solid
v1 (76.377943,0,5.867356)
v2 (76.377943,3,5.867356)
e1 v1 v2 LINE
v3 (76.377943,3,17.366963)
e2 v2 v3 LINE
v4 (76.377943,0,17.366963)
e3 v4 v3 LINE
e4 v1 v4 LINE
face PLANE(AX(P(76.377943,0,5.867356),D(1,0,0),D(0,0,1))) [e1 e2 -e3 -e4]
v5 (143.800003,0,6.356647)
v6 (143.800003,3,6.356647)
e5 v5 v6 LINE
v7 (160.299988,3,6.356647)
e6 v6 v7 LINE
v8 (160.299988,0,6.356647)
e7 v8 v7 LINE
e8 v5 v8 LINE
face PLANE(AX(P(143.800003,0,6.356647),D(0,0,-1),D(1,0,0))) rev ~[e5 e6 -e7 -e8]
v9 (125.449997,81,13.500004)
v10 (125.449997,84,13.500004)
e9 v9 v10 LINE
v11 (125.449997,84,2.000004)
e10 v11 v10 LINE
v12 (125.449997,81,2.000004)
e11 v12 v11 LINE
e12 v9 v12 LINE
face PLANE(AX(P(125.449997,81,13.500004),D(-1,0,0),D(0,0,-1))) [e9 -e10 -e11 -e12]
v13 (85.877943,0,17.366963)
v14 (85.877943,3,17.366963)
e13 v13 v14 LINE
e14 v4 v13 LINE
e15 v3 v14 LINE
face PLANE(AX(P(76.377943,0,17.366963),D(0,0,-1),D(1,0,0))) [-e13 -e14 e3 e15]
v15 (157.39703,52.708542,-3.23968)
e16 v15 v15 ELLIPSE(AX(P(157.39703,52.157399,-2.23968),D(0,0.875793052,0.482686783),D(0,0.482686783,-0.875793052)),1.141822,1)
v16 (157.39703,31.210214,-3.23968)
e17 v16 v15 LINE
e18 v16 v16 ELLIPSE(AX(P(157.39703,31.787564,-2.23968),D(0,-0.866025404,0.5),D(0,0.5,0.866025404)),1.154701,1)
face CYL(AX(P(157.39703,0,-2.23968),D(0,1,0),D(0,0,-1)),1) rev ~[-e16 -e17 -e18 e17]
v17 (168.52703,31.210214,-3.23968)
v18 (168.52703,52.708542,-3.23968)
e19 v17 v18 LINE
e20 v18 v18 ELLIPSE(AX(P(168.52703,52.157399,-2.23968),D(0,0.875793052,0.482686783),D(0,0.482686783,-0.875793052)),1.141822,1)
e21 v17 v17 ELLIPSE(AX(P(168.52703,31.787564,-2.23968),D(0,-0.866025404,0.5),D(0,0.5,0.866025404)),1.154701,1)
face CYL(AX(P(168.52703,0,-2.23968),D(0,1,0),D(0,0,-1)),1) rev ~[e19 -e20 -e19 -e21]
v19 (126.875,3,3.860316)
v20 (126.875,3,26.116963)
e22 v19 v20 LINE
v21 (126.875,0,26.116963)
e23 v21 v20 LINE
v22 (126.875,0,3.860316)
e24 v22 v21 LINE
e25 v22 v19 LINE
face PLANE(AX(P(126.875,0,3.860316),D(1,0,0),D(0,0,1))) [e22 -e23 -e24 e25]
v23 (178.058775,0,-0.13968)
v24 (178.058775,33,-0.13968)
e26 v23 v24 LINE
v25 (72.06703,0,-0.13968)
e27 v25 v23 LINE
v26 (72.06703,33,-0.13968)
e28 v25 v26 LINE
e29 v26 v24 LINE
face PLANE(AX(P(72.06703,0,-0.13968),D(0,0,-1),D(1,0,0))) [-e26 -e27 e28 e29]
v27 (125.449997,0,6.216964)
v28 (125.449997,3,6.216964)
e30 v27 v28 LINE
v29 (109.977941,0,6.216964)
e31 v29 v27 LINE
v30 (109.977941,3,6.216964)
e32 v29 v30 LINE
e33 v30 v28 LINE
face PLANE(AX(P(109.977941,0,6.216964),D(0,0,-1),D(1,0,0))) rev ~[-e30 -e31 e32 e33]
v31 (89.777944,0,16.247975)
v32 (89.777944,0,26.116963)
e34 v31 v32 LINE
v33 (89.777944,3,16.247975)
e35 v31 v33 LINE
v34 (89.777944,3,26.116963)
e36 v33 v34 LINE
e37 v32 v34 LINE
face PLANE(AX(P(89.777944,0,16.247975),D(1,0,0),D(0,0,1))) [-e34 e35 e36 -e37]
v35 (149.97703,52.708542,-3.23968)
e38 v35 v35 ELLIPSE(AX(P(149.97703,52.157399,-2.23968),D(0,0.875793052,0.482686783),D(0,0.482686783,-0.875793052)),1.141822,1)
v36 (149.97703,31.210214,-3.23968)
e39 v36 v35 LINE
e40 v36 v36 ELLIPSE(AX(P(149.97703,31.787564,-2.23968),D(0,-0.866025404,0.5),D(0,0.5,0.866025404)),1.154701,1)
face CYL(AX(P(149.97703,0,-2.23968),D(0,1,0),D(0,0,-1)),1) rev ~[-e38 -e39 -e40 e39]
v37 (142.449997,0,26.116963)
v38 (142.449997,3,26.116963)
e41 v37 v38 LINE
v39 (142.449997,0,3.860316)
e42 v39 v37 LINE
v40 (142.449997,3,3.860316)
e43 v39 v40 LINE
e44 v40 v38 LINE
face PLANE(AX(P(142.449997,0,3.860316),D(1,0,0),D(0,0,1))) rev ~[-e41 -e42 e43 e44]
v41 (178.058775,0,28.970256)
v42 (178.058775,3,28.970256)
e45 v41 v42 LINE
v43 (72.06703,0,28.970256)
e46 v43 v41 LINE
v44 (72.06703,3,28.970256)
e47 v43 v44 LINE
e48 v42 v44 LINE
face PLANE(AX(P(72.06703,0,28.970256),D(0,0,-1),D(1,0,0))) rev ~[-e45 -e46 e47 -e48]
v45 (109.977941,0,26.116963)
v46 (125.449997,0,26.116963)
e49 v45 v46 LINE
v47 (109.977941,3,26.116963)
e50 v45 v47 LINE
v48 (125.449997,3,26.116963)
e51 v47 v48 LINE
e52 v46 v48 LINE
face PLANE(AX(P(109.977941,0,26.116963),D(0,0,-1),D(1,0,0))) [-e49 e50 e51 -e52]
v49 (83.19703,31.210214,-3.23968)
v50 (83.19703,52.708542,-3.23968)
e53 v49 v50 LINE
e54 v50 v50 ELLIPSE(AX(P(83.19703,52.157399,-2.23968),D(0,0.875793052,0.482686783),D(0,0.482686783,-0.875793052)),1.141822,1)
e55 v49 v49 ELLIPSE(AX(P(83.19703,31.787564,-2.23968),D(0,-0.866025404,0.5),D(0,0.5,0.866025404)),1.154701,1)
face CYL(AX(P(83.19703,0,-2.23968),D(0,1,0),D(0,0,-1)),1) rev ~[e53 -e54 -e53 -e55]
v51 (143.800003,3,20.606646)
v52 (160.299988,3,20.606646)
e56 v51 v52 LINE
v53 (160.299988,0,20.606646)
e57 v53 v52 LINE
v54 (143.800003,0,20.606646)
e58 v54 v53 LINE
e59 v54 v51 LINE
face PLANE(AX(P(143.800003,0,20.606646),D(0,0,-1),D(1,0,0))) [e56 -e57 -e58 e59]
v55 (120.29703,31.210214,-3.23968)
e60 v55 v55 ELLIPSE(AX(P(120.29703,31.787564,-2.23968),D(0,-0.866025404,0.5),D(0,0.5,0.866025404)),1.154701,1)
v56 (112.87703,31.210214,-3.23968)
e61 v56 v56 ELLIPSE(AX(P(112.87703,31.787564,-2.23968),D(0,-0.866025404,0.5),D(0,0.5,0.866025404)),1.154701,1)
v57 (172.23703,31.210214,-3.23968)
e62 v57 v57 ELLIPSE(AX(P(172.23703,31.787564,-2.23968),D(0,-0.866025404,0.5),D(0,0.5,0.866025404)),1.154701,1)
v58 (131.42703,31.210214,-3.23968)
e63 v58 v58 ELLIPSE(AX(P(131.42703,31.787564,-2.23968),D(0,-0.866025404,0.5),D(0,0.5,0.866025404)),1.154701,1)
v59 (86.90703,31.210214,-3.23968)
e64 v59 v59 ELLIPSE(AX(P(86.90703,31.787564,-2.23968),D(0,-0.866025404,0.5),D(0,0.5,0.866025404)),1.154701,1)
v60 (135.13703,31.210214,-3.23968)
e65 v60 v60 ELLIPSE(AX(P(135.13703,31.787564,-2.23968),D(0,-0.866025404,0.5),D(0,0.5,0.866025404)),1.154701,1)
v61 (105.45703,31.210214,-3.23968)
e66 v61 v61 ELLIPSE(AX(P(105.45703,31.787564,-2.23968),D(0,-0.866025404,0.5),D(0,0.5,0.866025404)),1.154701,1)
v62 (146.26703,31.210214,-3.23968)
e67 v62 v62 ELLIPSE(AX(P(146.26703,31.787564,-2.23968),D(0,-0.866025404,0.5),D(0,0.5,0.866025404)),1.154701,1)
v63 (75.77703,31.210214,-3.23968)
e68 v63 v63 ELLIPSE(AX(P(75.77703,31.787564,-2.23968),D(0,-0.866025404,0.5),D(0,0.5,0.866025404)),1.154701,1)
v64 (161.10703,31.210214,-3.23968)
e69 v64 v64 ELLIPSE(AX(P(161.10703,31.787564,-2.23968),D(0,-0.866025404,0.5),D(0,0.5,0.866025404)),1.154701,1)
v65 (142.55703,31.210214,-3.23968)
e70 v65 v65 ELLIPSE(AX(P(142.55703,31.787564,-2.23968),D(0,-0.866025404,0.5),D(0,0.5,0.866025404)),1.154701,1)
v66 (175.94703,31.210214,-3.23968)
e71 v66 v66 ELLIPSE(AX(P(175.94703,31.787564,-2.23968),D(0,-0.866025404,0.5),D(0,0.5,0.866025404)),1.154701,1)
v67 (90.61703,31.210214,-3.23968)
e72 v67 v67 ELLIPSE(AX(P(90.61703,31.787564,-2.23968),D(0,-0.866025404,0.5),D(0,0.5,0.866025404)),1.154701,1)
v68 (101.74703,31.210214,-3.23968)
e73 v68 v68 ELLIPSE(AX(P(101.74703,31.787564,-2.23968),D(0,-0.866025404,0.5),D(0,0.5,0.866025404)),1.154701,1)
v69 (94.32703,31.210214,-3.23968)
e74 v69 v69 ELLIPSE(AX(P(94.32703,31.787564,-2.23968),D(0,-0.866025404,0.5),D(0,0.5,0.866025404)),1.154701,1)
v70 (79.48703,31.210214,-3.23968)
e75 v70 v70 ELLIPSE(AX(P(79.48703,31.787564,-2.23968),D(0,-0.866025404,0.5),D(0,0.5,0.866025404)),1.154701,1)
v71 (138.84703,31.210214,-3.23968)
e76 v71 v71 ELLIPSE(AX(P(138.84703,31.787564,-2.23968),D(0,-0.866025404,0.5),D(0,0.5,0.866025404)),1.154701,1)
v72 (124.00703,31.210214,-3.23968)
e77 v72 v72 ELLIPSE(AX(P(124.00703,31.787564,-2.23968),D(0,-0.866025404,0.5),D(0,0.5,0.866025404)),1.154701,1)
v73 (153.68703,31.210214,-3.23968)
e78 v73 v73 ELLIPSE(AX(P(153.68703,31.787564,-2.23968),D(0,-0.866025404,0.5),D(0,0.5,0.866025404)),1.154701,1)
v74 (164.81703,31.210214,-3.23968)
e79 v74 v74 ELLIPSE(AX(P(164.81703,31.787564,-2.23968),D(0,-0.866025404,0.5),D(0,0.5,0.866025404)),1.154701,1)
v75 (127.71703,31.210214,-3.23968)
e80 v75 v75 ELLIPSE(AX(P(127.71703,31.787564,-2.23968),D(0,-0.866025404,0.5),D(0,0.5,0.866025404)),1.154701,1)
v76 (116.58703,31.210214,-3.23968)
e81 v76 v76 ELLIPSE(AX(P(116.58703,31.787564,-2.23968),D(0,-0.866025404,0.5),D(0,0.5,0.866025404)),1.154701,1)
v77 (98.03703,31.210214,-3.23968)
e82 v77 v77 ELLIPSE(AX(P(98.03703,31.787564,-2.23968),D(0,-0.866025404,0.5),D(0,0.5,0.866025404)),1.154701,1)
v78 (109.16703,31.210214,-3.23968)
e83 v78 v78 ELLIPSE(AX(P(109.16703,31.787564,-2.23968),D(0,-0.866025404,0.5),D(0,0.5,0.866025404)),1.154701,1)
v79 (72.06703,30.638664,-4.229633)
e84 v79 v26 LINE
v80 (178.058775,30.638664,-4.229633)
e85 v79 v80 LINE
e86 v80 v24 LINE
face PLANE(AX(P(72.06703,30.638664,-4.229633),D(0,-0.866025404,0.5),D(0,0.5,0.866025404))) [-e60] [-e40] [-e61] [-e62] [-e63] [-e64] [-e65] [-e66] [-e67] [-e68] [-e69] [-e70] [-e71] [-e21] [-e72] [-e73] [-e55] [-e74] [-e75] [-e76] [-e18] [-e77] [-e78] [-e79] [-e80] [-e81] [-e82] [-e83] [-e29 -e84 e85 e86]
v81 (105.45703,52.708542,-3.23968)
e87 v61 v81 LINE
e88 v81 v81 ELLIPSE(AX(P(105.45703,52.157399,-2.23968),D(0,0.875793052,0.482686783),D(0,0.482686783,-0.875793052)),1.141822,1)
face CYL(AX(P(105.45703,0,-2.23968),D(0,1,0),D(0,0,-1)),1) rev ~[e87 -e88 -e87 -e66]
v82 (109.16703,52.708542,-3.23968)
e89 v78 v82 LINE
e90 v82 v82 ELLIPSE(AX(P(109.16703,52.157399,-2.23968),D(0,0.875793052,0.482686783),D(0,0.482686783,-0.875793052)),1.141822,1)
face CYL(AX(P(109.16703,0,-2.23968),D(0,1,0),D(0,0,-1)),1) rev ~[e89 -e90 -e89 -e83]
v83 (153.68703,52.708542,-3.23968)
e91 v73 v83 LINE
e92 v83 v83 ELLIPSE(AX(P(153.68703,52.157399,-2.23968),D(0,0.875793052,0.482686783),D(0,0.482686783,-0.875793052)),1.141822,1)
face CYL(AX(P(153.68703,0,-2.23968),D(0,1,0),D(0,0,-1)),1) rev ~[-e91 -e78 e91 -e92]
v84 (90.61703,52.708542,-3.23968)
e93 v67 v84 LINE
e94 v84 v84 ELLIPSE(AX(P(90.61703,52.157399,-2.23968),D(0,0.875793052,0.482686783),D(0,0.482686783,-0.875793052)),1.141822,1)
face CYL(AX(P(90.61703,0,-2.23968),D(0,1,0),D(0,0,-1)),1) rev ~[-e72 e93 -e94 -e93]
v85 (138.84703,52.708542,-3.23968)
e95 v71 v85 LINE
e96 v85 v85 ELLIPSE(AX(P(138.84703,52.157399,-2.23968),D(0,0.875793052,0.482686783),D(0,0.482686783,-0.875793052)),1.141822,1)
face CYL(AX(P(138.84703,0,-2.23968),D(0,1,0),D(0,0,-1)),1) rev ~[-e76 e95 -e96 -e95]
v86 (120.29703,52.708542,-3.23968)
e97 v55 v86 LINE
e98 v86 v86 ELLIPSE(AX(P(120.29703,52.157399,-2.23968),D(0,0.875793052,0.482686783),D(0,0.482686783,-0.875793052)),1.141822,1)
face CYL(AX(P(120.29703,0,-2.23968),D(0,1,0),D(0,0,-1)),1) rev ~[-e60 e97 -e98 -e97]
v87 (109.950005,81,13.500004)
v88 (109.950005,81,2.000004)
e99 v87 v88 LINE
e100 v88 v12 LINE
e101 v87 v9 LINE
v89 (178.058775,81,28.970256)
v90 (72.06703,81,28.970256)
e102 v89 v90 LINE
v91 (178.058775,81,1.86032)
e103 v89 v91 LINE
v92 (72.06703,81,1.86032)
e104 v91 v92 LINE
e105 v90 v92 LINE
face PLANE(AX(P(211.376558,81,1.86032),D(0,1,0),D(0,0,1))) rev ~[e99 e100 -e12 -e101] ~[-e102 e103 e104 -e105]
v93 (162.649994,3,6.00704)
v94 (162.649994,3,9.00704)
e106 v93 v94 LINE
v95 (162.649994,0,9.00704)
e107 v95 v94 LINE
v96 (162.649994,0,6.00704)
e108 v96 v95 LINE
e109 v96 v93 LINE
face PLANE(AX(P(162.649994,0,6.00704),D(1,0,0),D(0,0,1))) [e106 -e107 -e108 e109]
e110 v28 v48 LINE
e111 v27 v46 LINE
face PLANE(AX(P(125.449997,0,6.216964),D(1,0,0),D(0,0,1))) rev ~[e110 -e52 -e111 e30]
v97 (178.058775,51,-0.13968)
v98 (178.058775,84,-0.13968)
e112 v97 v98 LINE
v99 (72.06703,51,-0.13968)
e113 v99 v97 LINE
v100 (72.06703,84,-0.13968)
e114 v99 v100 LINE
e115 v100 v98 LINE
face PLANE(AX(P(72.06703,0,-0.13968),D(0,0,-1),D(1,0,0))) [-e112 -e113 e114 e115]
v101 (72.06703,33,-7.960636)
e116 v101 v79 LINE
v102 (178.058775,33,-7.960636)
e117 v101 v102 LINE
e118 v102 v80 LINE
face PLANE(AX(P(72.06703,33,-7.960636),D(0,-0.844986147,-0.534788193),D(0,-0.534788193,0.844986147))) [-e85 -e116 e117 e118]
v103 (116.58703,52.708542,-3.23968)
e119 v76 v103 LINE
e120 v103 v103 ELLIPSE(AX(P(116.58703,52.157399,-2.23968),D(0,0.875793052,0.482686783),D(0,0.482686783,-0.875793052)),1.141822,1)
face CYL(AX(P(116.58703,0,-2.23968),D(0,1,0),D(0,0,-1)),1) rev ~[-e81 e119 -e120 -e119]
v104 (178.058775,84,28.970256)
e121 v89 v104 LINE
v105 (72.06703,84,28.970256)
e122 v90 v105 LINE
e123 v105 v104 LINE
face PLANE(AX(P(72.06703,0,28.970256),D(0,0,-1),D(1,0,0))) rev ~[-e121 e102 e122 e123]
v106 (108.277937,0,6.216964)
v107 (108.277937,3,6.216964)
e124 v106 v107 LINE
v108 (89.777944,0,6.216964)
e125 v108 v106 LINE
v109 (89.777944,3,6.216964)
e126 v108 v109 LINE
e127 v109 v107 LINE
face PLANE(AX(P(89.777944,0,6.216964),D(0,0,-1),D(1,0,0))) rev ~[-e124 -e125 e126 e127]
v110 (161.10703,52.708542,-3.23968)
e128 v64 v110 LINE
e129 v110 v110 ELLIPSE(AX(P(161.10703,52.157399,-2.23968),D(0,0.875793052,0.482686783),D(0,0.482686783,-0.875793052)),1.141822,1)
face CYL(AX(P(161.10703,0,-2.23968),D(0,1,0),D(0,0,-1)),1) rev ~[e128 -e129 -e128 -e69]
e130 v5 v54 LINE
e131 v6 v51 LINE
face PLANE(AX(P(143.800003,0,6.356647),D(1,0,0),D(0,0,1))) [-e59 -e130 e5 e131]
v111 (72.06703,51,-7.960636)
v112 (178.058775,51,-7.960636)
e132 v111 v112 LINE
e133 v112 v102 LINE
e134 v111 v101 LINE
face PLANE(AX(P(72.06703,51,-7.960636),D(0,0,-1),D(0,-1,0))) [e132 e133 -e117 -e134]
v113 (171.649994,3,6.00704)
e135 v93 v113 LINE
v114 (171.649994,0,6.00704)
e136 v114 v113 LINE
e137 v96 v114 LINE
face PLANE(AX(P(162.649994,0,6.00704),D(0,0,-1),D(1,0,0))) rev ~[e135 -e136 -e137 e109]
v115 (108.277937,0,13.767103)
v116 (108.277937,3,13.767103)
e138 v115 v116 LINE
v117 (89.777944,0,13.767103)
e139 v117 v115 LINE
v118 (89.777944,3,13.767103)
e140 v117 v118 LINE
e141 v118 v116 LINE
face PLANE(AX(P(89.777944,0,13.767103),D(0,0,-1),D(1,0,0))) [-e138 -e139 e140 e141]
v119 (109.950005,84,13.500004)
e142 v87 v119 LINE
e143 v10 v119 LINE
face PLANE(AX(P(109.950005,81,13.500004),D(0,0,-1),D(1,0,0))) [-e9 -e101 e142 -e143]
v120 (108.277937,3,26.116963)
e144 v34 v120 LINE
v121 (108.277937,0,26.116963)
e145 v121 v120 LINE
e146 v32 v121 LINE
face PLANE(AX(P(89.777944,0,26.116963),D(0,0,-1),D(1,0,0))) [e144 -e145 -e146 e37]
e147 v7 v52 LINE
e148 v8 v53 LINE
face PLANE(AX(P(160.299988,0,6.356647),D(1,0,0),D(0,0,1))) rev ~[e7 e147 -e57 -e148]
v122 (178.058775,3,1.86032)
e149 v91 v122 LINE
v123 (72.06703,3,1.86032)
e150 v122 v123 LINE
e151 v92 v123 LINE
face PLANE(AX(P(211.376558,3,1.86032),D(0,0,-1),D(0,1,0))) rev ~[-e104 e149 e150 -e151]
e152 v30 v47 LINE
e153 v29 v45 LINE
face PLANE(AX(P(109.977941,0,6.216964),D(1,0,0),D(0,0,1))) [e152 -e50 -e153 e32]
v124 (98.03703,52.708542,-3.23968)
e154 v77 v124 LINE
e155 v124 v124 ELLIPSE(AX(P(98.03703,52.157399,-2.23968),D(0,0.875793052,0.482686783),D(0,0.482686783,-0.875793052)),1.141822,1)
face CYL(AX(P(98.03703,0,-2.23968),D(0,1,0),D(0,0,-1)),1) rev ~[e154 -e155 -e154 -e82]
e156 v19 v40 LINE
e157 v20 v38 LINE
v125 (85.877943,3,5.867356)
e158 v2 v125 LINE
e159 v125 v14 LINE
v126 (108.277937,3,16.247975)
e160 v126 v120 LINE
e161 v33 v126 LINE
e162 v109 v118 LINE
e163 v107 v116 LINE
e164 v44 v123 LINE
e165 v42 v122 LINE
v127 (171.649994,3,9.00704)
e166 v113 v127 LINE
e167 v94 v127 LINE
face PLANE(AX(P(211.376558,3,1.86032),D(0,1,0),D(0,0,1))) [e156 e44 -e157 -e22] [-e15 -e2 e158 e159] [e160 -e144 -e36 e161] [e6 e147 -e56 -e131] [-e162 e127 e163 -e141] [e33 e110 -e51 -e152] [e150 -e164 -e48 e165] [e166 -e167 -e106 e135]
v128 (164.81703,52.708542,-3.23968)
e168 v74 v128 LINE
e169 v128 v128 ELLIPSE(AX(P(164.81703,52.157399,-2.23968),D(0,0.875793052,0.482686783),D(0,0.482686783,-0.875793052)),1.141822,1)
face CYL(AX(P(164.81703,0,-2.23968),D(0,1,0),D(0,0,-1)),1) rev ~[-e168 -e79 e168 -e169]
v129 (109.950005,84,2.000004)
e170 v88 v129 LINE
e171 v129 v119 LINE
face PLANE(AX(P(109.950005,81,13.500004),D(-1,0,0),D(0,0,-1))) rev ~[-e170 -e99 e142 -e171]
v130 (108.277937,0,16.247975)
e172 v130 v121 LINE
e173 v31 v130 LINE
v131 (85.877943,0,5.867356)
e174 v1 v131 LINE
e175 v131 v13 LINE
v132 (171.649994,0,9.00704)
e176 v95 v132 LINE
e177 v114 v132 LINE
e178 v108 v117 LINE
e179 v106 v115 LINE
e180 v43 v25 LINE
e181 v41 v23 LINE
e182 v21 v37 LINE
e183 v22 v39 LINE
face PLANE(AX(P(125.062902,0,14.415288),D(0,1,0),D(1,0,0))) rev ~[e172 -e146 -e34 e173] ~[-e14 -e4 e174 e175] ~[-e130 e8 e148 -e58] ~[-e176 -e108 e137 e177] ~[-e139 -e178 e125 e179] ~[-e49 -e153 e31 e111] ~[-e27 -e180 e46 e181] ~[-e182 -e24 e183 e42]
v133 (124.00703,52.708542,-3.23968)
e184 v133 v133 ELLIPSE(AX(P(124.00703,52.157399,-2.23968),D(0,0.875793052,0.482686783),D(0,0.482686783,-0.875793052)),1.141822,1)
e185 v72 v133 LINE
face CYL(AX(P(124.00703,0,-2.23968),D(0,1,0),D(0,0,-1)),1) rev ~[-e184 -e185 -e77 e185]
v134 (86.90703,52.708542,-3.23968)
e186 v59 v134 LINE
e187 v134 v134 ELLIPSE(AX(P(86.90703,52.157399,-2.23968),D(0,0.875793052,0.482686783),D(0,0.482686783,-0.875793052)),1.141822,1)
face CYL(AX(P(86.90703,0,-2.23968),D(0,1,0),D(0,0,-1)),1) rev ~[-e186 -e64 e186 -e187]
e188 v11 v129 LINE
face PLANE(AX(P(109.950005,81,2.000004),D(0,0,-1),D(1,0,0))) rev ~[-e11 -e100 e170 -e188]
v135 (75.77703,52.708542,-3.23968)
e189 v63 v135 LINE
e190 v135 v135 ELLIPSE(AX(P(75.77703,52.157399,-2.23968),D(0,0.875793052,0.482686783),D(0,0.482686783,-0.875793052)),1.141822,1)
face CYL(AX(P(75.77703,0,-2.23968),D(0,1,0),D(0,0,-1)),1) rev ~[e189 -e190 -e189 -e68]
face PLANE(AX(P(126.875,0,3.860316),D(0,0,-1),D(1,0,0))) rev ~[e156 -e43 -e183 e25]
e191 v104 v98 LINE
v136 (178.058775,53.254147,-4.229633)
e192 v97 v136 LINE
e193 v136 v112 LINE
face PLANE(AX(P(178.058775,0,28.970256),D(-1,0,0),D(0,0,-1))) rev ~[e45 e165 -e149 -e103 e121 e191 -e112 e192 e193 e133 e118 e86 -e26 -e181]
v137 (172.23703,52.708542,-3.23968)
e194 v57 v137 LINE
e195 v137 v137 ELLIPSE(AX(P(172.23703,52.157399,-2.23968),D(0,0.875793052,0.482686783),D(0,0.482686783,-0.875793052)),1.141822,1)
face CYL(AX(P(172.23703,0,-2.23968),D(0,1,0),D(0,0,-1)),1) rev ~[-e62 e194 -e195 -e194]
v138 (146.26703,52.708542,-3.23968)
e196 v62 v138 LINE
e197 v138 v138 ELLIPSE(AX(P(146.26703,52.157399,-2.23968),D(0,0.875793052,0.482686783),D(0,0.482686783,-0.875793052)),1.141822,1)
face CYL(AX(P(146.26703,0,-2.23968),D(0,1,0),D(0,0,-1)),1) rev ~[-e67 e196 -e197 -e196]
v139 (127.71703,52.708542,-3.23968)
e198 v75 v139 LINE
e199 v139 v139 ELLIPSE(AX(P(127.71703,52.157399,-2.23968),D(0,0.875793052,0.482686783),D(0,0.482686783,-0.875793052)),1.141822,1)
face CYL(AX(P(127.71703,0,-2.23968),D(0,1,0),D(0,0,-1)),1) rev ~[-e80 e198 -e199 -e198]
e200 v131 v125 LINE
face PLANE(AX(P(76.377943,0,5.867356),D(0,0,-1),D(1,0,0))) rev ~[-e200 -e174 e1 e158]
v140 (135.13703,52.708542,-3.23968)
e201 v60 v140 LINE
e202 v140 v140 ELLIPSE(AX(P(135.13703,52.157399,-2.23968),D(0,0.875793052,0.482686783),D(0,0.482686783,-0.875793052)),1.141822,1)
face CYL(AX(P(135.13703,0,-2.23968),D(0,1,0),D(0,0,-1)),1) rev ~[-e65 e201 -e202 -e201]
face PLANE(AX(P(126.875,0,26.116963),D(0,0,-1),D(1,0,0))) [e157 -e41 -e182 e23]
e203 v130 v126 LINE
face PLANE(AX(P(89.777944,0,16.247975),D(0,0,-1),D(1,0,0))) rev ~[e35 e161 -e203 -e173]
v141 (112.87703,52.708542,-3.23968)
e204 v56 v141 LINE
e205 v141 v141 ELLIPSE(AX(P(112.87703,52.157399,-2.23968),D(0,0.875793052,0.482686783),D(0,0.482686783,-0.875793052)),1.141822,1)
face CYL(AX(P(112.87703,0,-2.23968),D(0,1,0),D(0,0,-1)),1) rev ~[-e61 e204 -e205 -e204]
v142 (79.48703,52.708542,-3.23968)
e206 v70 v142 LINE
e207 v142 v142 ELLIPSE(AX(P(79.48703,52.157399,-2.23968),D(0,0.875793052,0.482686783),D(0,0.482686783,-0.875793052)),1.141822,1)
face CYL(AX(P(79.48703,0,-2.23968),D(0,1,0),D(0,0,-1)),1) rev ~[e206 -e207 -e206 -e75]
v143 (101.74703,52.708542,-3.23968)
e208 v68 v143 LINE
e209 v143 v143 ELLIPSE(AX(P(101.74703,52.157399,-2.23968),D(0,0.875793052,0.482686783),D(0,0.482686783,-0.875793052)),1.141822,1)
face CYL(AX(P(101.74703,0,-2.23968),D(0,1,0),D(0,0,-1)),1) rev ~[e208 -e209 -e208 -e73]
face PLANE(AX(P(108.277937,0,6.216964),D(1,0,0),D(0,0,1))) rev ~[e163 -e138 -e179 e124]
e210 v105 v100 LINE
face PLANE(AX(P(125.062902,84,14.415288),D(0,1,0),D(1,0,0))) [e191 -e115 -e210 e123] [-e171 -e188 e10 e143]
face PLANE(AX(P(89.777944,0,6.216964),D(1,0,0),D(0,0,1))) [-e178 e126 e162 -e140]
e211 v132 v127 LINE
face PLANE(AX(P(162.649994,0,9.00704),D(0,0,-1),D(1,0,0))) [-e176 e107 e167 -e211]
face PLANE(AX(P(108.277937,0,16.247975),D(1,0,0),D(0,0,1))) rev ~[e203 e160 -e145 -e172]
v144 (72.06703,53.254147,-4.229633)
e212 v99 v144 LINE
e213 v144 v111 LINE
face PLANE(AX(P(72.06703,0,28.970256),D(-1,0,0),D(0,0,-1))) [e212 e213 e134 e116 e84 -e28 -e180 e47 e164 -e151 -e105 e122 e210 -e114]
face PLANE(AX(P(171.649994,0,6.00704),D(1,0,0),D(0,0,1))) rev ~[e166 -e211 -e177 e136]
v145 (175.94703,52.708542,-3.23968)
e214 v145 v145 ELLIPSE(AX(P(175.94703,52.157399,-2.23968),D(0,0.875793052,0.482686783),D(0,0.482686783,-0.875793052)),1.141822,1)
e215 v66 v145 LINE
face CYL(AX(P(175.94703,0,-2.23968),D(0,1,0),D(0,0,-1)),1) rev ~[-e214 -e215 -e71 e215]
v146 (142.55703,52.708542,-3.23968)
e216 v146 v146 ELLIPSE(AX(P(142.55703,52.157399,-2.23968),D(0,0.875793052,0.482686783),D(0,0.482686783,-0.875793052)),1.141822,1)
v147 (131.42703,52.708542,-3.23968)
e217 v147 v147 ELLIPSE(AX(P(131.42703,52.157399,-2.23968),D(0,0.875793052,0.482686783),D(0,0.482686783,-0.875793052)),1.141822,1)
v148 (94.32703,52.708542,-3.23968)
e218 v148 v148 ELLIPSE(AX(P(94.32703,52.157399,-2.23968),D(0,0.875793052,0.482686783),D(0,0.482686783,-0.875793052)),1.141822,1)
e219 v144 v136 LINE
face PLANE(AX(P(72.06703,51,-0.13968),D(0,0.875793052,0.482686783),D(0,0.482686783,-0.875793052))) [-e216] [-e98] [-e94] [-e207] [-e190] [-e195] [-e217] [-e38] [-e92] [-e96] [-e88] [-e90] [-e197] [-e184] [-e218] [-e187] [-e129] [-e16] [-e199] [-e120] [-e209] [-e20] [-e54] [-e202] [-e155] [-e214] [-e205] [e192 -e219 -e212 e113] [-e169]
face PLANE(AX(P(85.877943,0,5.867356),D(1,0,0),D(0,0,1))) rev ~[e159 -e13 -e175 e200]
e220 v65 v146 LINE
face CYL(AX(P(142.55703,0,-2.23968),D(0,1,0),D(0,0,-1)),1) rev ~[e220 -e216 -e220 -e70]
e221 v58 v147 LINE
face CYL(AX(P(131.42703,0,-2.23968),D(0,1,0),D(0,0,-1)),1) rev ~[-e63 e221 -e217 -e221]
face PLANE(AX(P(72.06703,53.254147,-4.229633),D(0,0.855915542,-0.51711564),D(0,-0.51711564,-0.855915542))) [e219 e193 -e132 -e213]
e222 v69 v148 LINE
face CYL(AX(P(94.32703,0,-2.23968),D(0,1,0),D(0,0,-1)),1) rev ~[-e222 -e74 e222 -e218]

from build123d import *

# Parameters (mm, degrees)
SKETCH1_W               = 105.991744741
SKETCH1_H               = 29.109935465
BOSS_EXTRUDE1_DEPTH     = 84
CUT_EXTRUDE1_DEPTH      = 199.997997189
CUT_EXTRUDE1_DEPTH_BACK = 3
SKETCH3_W               = 15.49999237
SKETCH3_H               = 11.5
CUT_EXTRUDE2_DEPTH      = 139.309528443
CUT_EXTRUDE2_DEPTH_BACK = 139.309528443
SKETCH4_W               = 27.109935465
SKETCH4_H               = 78
SKETCH5_W               = 9.5
SKETCH5_H               = 11.499607086
SKETCH5_W_2             = 18.49999237
SKETCH5_H_2             = 9.868988037
SKETCH5_H_3             = 7.550139481
SKETCH5_W_3             = 15.472055618
SKETCH5_H_4             = 19.899999618
SKETCH5_W_4             = 15.574996948
SKETCH5_H_5             = 22.25664711
SKETCH5_W_5             = 16.499984741
SKETCH5_H_6             = 14.249998093
SKETCH5_W_6             = 9
SKETCH5_H_7             = 3
CUT_EXTRUDE3_DEPTH      = 3
BOSS_EXTRUDE2_DEPTH     = 105.991744742
SKETCH7_R               = 1
CUT_EXTRUDE4_DEPTH      = 199.99799719
LPATTERN1_COUNT         = 28
LPATTERN1_PITCH         = 3.71


with BuildPart() as part:
    # Sketch1 → Boss-Extrude1 (new body)
    with BuildSketch(Plane(origin=(0, 0, 0), x_dir=(1, 0, 0), z_dir=(0, 1, 0))):
        with Locations((125.062902141, -14.415287787)):
            Rectangle(SKETCH1_W, SKETCH1_H)
    extrude(amount=BOSS_EXTRUDE1_DEPTH)

    # Sketch3 → Cut-Extrude1 (cut, two sides: drawn at the far end of the back side and taken through both)
    with BuildSketch(Plane(origin=(0, 84, 0), x_dir=(1, 0, 0), z_dir=(0, 1, 0)).offset(-CUT_EXTRUDE1_DEPTH_BACK)):
        with Locations((117.700000763, -7.750003815)):
            Rectangle(SKETCH3_W, SKETCH3_H)
    extrude(amount=CUT_EXTRUDE1_DEPTH + CUT_EXTRUDE1_DEPTH_BACK, mode=Mode.SUBTRACT)

    # Sketch4 → Cut-Extrude2 (cut, two sides: drawn at the far end of the back side and taken through both)
    with BuildSketch(Plane.ZY.offset(-72.06702977).offset(-CUT_EXTRUDE2_DEPTH_BACK)):
        with Locations((15.415287787, 42)):
            Rectangle(SKETCH4_W, SKETCH4_H)
    extrude(amount=CUT_EXTRUDE2_DEPTH + CUT_EXTRUDE2_DEPTH_BACK, mode=Mode.SUBTRACT)

    # Sketch5 → Cut-Extrude3 (cut)
    with BuildSketch(Plane.XZ):
        with Locations((81.127942856, 11.617159806)):
            Rectangle(SKETCH5_W, SKETCH5_H)
        with Locations((99.027940567, 21.182469331)):
            Rectangle(SKETCH5_W_2, SKETCH5_H_2)
        with Locations((99.027940567, 9.992033472)):
            Rectangle(SKETCH5_W_2, SKETCH5_H_3)
        with Locations((117.713969139, 16.16696354)):
            Rectangle(SKETCH5_W_3, SKETCH5_H_4)
        with Locations((134.662498474, 14.988639794)):
            Rectangle(SKETCH5_W_4, SKETCH5_H_5)
        with Locations((152.049995423, 13.481646538)):
            Rectangle(SKETCH5_W_5, SKETCH5_H_6)
        with Locations((167.149993896, 7.507040024)):
            Rectangle(SKETCH5_W_6, SKETCH5_H_7)
    extrude(amount=-CUT_EXTRUDE3_DEPTH, mode=Mode.SUBTRACT)

    # Sketch6 → Boss-Extrude2 (add)
    with BuildSketch(Plane.ZY.offset(-72.06702977)):
        Polygon((-0.139679946, 33), (-0.139679946, 51), (-4.229633498, 53.254147276), (-7.960635886, 51), (-7.960635886, 33), (-4.229633498, 30.638664216), align=None)
    extrude(amount=-BOSS_EXTRUDE2_DEPTH)

    # Sketch7 → Cut-Extrude4 (cut, symmetric)
    with BuildSketch(Plane(origin=(0, 0, 0), x_dir=(1, 0, 0), z_dir=(0, 1, 0))):
        with Locations(Location((75.77702977, 2.239679946, 0), (0, 0, 90))):
            Circle(SKETCH7_R)
    cut_extrude4 = extrude(amount=CUT_EXTRUDE4_DEPTH, both=True, mode=Mode.SUBTRACT)

    # LPattern1: Cut-Extrude4 ×28
    with Locations(*[(i * LPATTERN1_PITCH, 0, 0) for i in range(1, LPATTERN1_COUNT)]):
        add(cut_extrude4, mode=Mode.SUBTRACT)


solid = part.part
